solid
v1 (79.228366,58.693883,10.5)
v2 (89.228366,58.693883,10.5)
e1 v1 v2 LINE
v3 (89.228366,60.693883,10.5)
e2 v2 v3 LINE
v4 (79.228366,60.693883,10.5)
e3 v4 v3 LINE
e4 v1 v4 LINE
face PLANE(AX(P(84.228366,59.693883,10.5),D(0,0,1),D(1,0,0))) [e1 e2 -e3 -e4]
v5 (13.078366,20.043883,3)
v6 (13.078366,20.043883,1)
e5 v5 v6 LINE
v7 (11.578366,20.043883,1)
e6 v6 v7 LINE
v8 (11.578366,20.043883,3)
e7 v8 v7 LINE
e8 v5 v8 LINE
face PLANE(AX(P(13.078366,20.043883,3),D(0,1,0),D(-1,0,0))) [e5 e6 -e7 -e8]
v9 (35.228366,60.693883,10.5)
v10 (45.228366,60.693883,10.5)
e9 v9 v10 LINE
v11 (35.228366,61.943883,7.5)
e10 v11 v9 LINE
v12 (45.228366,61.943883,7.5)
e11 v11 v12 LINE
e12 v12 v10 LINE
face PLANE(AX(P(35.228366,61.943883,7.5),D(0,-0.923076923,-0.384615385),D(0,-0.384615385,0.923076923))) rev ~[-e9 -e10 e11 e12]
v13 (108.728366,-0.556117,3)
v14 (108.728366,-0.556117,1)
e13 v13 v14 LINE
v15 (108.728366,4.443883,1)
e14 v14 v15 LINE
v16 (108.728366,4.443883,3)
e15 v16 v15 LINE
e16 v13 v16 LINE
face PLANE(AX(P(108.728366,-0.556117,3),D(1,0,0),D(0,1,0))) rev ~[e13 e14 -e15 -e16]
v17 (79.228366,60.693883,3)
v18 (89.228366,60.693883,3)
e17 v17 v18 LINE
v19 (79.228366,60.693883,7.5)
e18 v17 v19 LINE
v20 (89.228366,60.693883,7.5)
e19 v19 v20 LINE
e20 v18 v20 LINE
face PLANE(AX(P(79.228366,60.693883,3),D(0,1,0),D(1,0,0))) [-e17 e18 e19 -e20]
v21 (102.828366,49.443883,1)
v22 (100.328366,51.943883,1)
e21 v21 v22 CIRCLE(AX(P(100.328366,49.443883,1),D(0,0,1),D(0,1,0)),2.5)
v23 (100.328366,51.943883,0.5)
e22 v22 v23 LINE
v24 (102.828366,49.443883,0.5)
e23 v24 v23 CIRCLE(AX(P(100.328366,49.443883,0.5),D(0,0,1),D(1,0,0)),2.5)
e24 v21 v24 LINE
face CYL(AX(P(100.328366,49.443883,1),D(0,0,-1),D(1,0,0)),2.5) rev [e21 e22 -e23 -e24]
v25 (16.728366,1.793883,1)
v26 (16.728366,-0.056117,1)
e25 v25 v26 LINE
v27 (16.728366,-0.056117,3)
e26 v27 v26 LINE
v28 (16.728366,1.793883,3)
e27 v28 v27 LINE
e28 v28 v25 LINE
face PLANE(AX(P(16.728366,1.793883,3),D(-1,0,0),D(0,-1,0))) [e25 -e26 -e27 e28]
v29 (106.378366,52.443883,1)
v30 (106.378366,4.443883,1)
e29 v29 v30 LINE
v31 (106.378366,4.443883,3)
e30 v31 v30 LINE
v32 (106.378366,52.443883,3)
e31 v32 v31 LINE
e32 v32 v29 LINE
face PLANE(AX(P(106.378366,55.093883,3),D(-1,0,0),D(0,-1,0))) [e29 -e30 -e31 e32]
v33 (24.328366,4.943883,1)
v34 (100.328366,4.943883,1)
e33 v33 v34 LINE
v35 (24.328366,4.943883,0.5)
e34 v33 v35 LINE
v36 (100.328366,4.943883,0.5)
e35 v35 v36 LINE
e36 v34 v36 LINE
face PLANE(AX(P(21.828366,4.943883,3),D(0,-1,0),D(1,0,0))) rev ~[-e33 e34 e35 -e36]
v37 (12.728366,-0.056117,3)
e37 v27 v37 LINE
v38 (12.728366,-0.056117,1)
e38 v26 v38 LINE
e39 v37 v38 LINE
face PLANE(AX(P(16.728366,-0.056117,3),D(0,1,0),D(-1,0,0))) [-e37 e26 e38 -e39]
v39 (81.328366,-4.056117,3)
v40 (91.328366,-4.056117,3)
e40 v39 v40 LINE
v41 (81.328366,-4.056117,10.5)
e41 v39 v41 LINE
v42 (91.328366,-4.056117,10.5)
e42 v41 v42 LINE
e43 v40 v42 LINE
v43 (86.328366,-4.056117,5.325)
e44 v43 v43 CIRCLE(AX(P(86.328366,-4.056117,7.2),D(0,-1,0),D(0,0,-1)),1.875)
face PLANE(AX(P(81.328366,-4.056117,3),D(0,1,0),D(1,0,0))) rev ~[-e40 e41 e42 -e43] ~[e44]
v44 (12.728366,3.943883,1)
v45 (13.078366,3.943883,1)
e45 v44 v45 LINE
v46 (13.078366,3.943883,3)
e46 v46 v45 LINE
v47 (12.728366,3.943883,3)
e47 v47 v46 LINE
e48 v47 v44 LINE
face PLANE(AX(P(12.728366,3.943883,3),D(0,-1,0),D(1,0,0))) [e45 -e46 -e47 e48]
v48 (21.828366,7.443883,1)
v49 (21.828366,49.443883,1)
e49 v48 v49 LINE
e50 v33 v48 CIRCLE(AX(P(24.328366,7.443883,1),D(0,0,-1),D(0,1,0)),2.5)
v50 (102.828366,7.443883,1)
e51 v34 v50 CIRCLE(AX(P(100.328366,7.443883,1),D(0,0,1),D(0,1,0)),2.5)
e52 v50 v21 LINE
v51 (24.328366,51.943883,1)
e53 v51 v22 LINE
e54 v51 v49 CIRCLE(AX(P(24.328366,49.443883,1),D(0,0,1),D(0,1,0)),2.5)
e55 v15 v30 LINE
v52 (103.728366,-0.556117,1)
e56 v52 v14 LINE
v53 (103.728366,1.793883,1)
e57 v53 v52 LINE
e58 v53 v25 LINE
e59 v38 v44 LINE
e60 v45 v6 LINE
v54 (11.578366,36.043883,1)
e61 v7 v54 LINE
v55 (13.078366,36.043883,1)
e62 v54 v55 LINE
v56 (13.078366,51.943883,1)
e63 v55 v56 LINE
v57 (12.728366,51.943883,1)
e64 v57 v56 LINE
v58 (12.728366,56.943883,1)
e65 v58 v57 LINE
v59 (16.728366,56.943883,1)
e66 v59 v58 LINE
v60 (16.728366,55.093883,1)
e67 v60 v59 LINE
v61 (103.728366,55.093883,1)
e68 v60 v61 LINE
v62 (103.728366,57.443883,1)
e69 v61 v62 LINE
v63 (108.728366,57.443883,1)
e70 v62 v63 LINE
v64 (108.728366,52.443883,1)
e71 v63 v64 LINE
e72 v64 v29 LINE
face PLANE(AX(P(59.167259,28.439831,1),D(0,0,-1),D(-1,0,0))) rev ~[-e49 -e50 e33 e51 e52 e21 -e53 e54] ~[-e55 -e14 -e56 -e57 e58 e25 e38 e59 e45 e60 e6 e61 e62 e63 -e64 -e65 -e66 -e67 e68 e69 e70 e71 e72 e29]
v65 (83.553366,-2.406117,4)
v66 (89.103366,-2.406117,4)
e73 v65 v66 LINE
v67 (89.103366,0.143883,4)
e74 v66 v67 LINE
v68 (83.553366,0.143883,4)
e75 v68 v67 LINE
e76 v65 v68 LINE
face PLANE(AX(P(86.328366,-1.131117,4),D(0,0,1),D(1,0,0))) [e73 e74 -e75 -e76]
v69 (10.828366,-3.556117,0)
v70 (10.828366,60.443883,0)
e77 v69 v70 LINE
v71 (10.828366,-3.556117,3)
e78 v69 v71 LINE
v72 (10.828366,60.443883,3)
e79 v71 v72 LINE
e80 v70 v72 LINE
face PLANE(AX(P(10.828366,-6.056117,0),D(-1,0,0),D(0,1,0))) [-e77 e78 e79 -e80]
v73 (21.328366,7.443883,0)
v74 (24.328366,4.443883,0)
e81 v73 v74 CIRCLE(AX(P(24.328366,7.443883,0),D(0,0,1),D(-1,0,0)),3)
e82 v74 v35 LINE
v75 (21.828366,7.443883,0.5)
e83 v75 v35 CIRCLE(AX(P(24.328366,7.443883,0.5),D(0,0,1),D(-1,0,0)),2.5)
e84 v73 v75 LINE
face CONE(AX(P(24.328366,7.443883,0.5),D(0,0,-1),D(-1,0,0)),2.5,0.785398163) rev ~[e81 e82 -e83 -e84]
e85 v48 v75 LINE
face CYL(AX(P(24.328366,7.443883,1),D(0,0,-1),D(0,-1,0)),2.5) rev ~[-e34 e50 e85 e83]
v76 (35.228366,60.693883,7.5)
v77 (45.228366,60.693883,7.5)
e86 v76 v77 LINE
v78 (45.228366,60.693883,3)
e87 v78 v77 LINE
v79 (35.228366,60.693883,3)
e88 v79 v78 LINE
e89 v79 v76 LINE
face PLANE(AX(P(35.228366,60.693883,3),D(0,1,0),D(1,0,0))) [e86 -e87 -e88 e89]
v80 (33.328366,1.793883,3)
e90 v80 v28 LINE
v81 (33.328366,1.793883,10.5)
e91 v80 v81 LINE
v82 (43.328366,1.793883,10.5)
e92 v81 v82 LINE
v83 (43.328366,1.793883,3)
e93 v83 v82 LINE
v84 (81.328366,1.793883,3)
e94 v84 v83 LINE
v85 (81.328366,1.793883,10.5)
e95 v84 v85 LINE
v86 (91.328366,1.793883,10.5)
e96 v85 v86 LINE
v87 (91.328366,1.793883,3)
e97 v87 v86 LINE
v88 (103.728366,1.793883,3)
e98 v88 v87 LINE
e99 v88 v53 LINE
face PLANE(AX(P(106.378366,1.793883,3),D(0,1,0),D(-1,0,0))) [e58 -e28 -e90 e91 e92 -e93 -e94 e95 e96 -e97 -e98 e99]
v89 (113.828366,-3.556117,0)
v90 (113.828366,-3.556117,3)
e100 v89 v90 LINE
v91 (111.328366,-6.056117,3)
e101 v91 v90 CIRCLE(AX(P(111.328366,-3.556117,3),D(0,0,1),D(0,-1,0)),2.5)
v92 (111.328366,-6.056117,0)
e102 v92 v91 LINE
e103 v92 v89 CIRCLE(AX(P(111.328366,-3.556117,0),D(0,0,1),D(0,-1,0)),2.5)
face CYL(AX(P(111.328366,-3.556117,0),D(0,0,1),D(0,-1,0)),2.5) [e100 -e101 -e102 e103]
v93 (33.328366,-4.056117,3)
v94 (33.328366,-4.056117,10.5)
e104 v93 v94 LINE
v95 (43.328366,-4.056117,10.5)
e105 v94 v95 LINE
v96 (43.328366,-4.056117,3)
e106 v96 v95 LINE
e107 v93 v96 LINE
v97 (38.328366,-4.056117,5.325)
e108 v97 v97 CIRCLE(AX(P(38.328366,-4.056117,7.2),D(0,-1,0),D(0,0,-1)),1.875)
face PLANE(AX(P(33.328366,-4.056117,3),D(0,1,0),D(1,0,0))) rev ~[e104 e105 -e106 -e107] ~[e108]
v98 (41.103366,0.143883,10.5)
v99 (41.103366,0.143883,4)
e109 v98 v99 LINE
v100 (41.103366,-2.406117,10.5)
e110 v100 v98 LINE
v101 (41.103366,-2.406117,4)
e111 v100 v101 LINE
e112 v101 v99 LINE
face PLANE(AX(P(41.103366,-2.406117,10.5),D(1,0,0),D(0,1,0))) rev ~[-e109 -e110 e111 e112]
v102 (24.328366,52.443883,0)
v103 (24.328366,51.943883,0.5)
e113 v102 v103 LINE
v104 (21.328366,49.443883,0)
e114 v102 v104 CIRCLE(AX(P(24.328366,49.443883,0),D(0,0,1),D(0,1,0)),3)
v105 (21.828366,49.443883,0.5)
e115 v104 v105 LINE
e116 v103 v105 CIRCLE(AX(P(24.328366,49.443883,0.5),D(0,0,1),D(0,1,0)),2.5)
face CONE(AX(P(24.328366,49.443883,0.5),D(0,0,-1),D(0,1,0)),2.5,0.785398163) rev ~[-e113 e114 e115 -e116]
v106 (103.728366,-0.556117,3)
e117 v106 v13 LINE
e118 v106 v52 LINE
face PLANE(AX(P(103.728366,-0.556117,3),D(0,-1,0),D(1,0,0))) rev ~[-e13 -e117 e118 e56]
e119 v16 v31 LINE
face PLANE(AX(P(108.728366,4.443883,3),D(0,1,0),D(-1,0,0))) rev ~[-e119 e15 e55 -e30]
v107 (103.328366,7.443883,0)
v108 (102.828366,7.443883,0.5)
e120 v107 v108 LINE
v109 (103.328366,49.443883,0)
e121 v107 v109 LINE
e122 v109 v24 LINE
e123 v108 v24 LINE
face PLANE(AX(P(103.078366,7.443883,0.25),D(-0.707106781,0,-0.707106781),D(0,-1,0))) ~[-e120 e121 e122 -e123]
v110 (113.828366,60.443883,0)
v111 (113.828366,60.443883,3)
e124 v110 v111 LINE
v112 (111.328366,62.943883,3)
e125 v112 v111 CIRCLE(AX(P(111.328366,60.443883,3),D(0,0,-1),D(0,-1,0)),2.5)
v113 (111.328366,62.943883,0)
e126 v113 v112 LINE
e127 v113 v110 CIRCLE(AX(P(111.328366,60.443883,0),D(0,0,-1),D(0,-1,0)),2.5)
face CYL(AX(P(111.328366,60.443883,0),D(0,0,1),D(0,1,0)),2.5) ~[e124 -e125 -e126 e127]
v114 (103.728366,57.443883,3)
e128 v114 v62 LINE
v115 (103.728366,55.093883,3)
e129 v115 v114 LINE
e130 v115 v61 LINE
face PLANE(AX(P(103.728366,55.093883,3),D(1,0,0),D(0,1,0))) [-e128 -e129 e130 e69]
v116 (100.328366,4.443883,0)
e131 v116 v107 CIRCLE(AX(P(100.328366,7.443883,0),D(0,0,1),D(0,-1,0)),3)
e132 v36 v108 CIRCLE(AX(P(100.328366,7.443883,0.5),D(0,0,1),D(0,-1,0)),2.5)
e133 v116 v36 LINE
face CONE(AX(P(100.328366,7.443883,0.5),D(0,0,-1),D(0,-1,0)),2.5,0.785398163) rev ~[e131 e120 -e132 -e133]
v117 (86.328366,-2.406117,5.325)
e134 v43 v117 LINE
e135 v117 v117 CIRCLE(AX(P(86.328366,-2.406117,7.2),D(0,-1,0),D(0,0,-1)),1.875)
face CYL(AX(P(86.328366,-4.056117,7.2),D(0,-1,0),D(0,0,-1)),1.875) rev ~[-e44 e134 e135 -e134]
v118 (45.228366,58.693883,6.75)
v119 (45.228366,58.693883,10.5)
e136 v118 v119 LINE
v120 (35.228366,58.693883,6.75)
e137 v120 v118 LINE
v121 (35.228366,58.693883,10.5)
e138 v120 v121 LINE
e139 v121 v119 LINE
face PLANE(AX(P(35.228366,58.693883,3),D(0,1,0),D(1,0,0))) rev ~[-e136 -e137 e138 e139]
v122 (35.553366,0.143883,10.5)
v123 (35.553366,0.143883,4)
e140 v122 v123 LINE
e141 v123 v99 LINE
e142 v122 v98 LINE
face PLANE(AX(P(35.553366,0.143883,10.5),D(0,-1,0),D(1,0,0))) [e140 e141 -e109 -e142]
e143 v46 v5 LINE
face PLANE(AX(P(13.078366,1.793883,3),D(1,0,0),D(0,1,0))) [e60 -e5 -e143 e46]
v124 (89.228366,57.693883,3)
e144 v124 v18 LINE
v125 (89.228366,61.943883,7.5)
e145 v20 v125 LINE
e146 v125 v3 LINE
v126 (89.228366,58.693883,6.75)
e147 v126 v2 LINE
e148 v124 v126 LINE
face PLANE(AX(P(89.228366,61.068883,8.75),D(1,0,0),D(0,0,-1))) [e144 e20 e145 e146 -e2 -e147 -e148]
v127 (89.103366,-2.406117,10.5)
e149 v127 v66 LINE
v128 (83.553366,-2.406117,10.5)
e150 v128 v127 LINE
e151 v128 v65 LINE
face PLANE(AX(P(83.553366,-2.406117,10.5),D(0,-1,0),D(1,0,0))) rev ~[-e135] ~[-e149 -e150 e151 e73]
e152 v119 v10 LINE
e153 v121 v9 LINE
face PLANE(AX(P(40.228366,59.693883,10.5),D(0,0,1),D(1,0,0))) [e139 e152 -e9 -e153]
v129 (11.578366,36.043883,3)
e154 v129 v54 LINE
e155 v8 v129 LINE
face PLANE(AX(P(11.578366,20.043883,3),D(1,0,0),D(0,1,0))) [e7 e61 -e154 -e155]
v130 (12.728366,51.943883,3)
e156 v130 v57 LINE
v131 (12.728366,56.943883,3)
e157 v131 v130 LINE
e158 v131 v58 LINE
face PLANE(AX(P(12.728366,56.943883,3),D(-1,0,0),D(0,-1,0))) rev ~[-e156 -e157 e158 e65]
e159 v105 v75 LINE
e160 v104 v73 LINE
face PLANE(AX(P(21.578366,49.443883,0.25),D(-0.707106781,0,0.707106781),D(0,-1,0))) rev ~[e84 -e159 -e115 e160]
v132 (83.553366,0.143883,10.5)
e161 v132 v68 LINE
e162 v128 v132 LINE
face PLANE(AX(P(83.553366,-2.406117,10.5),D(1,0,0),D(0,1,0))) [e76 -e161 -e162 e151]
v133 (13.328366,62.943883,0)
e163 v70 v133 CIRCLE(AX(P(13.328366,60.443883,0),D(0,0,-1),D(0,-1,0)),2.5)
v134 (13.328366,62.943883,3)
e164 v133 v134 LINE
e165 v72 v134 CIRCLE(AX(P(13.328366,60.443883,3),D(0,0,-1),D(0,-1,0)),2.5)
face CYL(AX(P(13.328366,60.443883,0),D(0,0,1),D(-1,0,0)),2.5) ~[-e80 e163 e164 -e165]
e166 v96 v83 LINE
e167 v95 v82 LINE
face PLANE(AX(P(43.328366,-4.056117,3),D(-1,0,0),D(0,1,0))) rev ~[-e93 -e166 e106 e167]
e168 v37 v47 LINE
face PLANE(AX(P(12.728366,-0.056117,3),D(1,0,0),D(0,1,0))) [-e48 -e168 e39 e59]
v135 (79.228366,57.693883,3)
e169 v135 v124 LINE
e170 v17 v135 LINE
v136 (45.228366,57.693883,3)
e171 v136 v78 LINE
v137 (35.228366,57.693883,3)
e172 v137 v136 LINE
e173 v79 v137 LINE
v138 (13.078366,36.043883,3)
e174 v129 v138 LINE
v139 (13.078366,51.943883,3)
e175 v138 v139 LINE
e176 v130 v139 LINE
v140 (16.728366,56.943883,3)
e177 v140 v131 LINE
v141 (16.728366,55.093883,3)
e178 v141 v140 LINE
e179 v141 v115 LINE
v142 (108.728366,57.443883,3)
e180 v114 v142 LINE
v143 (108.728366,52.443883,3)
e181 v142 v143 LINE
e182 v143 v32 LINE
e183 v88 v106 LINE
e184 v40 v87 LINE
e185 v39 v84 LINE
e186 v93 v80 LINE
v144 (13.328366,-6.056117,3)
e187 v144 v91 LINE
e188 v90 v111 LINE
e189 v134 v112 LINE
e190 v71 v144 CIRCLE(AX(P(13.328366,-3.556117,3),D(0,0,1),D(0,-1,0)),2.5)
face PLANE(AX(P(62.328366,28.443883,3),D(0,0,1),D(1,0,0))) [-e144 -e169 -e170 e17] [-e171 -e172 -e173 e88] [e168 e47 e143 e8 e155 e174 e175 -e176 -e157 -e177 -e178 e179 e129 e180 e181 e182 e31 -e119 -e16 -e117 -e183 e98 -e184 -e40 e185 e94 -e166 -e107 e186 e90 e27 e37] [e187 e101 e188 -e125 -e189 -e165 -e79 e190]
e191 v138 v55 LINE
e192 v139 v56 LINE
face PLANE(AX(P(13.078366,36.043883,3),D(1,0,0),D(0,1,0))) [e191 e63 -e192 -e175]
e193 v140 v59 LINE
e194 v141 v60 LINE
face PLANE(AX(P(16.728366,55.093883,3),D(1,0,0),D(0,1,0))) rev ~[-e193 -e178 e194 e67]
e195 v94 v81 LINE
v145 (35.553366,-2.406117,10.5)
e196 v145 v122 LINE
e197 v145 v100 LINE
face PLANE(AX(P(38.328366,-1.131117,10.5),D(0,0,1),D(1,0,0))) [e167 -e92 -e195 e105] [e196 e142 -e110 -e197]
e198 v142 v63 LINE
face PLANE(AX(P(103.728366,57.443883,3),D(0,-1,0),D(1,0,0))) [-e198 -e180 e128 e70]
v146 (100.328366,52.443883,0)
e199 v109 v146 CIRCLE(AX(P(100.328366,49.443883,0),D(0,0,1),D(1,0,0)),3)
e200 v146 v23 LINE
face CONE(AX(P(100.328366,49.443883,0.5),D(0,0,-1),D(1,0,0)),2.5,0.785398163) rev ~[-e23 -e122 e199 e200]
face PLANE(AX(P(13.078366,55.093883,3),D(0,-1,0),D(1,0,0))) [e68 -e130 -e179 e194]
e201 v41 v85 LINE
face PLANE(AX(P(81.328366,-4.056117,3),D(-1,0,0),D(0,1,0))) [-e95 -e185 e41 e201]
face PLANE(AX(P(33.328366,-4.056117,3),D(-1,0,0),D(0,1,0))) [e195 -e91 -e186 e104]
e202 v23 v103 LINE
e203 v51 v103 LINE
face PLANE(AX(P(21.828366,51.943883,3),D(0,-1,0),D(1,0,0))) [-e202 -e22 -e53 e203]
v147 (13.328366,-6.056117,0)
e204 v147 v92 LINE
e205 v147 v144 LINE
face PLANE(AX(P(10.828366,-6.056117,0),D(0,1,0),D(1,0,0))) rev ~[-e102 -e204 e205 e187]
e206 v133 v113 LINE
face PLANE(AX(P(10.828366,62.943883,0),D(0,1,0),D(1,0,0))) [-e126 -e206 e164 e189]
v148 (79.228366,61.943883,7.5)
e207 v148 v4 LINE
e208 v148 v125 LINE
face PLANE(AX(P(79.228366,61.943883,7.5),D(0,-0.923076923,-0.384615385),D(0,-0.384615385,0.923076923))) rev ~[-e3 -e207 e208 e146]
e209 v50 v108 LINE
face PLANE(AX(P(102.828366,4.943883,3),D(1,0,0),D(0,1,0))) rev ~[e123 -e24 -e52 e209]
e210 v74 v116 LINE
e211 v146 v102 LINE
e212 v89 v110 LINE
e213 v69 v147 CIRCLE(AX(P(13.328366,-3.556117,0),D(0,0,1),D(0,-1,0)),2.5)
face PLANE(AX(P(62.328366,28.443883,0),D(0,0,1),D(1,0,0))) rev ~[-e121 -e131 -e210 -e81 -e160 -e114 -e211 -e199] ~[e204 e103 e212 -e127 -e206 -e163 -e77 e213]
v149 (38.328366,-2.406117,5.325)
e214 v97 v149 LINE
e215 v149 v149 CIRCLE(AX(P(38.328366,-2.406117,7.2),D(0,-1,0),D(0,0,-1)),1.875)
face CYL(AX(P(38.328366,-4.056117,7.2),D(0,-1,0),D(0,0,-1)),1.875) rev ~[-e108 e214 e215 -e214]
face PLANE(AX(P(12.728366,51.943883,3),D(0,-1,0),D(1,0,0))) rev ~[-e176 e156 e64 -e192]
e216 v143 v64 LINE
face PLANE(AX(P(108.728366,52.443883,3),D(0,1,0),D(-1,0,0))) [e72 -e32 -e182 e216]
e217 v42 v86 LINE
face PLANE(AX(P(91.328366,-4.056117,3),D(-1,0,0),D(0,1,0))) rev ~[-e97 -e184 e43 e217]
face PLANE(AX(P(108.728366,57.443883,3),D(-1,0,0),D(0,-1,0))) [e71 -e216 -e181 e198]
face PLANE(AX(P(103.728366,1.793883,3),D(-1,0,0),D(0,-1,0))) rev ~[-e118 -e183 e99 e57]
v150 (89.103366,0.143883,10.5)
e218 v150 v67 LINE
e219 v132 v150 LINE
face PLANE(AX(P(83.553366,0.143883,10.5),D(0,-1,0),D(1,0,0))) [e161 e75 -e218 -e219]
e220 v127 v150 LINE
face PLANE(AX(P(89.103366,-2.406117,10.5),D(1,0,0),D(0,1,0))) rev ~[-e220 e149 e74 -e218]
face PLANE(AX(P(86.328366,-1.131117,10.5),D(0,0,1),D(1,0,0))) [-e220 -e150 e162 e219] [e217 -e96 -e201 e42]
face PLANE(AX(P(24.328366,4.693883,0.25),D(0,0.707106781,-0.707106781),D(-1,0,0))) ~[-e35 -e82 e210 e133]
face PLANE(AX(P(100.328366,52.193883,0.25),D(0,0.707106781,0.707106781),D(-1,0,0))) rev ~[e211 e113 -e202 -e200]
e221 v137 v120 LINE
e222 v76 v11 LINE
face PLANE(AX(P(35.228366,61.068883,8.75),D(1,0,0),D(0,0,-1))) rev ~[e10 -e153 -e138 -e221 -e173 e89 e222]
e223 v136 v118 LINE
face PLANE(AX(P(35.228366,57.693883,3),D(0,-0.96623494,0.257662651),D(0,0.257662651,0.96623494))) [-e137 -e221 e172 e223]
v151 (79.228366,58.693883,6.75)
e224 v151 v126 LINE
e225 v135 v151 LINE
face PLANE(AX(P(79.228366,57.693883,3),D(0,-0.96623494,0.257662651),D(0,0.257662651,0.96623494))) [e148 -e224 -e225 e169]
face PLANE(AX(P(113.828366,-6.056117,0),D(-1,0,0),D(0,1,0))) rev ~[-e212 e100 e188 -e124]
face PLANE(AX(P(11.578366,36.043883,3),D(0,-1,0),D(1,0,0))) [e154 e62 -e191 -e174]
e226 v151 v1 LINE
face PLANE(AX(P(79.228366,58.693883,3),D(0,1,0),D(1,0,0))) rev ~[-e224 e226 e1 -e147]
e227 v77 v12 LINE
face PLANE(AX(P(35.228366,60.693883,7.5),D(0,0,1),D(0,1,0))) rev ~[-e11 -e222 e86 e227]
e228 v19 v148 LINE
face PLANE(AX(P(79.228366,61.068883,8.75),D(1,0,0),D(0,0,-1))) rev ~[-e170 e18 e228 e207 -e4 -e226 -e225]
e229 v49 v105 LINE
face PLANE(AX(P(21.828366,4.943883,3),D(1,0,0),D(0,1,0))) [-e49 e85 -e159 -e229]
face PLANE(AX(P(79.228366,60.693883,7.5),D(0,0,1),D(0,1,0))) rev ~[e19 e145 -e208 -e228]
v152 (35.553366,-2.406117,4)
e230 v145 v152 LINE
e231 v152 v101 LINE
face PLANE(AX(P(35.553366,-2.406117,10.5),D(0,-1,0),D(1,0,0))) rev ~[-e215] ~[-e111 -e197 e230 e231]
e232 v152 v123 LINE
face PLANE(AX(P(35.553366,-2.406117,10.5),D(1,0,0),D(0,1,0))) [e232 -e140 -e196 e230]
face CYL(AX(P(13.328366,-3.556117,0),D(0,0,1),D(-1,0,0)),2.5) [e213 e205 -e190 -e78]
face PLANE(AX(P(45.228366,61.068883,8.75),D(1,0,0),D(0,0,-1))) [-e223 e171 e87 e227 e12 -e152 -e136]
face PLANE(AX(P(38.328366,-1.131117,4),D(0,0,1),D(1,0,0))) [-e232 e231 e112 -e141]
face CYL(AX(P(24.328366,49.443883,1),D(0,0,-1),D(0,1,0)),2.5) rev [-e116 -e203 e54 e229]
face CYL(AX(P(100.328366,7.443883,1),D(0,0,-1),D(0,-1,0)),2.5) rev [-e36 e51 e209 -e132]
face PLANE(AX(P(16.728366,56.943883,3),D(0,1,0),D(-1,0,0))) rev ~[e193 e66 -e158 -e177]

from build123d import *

# Parameters (mm, degrees)
SKETCH1_W           = 103
SKETCH1_H           = 69
BOSS_EXTRUDE1_DEPTH = 3
SKETCH2_W           = 81
SKETCH2_H           = 47
CUT_EXTRUDE1_DEPTH  = 3
CUT_EXTRUDE2_DEPTH  = 2
FILLET2_R           = 2.5
FILLET3_R           = 2.5
CHAMFER1_SIZE       = 0.5
CUT_EXTRUDE3_DEPTH  = 2
SKETCH5_W           = 10
SKETCH5_H           = 2
BOSS_EXTRUDE2_DEPTH = 7.5
SKETCH6_W           = 10
SKETCH6_H           = 5.85
BOSS_EXTRUDE3_DEPTH = 7.5
BOSS_EXTRUDE4_DEPTH = 10
BOSS_EXTRUDE5_DEPTH = 10
SKETCH9_W           = 5.55
SKETCH9_H           = 2.55
CUT_EXTRUDE4_DEPTH  = 6.5
SKETCH10_R          = 1.875
CUT_EXTRUDE5_DEPTH  = 1.65


with BuildPart() as part:
    # Sketch1 → Boss-Extrude1 (new body)
    with BuildSketch(Plane.XY):
        with Locations((62.328366078, 28.443882797)):
            Rectangle(SKETCH1_W, SKETCH1_H)
    extrude(amount=BOSS_EXTRUDE1_DEPTH)

    # Sketch2 → Cut-Extrude1 (cut)
    with BuildSketch(Plane.XY.offset(3)):
        with Locations((62.328366078, 28.443882797)):
            Rectangle(SKETCH2_W, SKETCH2_H)
    extrude(amount=-CUT_EXTRUDE1_DEPTH, mode=Mode.SUBTRACT)

    # Sketch3 → Cut-Extrude2 (cut)
    with BuildSketch(Plane.XY.offset(3)):
        Polygon((13.078366078, 55.093882797), (106.378366078, 55.093882797), (106.378366078, 1.793882797), (13.078366078, 1.793882797), (13.078366078, 20.043882797), (11.578366078, 20.043882797), (11.578366078, 36.043882797), (13.078366078, 36.043882797), align=None)
    extrude(amount=-CUT_EXTRUDE2_DEPTH, mode=Mode.SUBTRACT)

    # Fillet2
    fillet2_edges = [part.edges().sort_by_distance(p)[0] for p in [
        (113.828366078, -6.056117203, 1.5),
        (10.828366078, -6.056117203, 1.5),
        (10.828366078, 62.943882797, 1.5),
        (113.828366078, 62.943882797, 1.5),
    ]]
    fillet(fillet2_edges, radius=FILLET2_R)

    # Fillet3
    fillet3_edges = [part.edges().sort_by_distance(p)[0] for p in [
        (21.828366078, 4.943882797, 0.5),
        (21.828366078, 51.943882797, 0.5),
        (102.828366078, 51.943882797, 0.5),
        (102.828366078, 4.943882797, 0.5),
    ]]
    fillet(fillet3_edges, radius=FILLET3_R)

    # Chamfer1
    chamfer1_edges = [part.edges().sort_by_distance(p)[0] for p in [
        (22.560599125, 51.21164975, 0),
        (22.560599125, 5.676115844, 0),
        (102.096133031, 5.676115844, 0),
        (102.096133031, 51.21164975, 0),
        (21.828366078, 28.443882797, 0),
        (62.328366078, 51.943882797, 0),
        (62.328366078, 4.943882797, 0),
        (102.828366078, 28.443882797, 0),
    ]]
    chamfer(chamfer1_edges, length=CHAMFER1_SIZE)

    # Sketch4 → Cut-Extrude3 (cut)
    with BuildSketch(Plane.XY.offset(3)):
        Polygon((16.728366078, 55.093882797), (16.728366078, 56.943882797), (12.728366078, 56.943882797), (12.728366078, 51.943882797), (13.078366078, 51.943882797), (13.078366078, 55.093882797), align=None)
        Polygon((103.728366078, 55.093882797), (103.728366078, 57.443882797), (108.728366078, 57.443882797), (108.728366078, 52.443882797), (106.378366078, 52.443882797), (106.378366078, 55.093882797), align=None)
        Polygon((16.728366078, 1.793882797), (16.728366078, -0.056117203), (12.728366078, -0.056117203), (12.728366078, 3.943882797), (13.078366078, 3.943882797), (13.078366078, 1.793882797), align=None)
        Polygon((103.728366078, 1.793882797), (103.728366078, -0.556117203), (108.728366078, -0.556117203), (108.728366078, 4.443882797), (106.378366078, 4.443882797), (106.378366078, 1.793882797), align=None)
    extrude(amount=-CUT_EXTRUDE3_DEPTH, mode=Mode.SUBTRACT)

    # Sketch5 → Boss-Extrude2 (add)
    with BuildSketch(Plane.XY.offset(3)):
        with Locations((84.228366078, 59.693882797)):
            Rectangle(SKETCH5_W, SKETCH5_H)
        with Locations((40.228366078, 59.693882797)):
            Rectangle(SKETCH5_W, SKETCH5_H)
    extrude(amount=BOSS_EXTRUDE2_DEPTH)

    # Sketch6 → Boss-Extrude3 (add)
    with BuildSketch(Plane.XY.offset(3)):
        with Locations((86.328366078, -1.131117203)):
            Rectangle(SKETCH6_W, SKETCH6_H)
        with Locations((38.328366078, -1.131117203)):
            Rectangle(SKETCH6_W, SKETCH6_H)
    extrude(amount=BOSS_EXTRUDE3_DEPTH)

    # Sketch7 → Boss-Extrude4 (add)
    with BuildSketch(Plane.ZY.offset(-35.228366078)):
        Polygon((7.5, 60.693882797), (7.5, 61.943882797), (10.5, 60.693882797), align=None)
        Polygon((3, 57.693882797), (6.75, 58.693882797), (3, 58.693882797), align=None)
    extrude(amount=-BOSS_EXTRUDE4_DEPTH)

    # Sketch8 → Boss-Extrude5 (add)
    with BuildSketch(Plane.ZY.offset(-79.228366078)):
        Polygon((7.5, 60.693882797), (7.5, 61.943882797), (10.5, 60.693882797), align=None)
        Polygon((6.75, 58.693882797), (3, 58.693882797), (3, 57.693882797), align=None)
    extrude(amount=-BOSS_EXTRUDE5_DEPTH)

    # Sketch9 → Cut-Extrude4 (cut)
    with BuildSketch(Plane.XY.offset(10.5)):
        with Locations((86.328366078, -1.131117203)):
            Rectangle(SKETCH9_W, SKETCH9_H)
        with Locations((38.328366078, -1.131117203)):
            Rectangle(SKETCH9_W, SKETCH9_H)
    extrude(amount=-CUT_EXTRUDE4_DEPTH, mode=Mode.SUBTRACT)

    # Sketch10 → Cut-Extrude5 (cut)
    with BuildSketch(Plane.XZ.offset(4.056117203)):
        with Locations(Location((38.328366078, 7.2, 0), (0, 0, 270))):
            Circle(SKETCH10_R)
        with Locations(Location((86.328366078, 7.2, 0), (0, 0, 270))):
            Circle(SKETCH10_R)
    extrude(amount=-CUT_EXTRUDE5_DEPTH, mode=Mode.SUBTRACT)


solid = part.part
